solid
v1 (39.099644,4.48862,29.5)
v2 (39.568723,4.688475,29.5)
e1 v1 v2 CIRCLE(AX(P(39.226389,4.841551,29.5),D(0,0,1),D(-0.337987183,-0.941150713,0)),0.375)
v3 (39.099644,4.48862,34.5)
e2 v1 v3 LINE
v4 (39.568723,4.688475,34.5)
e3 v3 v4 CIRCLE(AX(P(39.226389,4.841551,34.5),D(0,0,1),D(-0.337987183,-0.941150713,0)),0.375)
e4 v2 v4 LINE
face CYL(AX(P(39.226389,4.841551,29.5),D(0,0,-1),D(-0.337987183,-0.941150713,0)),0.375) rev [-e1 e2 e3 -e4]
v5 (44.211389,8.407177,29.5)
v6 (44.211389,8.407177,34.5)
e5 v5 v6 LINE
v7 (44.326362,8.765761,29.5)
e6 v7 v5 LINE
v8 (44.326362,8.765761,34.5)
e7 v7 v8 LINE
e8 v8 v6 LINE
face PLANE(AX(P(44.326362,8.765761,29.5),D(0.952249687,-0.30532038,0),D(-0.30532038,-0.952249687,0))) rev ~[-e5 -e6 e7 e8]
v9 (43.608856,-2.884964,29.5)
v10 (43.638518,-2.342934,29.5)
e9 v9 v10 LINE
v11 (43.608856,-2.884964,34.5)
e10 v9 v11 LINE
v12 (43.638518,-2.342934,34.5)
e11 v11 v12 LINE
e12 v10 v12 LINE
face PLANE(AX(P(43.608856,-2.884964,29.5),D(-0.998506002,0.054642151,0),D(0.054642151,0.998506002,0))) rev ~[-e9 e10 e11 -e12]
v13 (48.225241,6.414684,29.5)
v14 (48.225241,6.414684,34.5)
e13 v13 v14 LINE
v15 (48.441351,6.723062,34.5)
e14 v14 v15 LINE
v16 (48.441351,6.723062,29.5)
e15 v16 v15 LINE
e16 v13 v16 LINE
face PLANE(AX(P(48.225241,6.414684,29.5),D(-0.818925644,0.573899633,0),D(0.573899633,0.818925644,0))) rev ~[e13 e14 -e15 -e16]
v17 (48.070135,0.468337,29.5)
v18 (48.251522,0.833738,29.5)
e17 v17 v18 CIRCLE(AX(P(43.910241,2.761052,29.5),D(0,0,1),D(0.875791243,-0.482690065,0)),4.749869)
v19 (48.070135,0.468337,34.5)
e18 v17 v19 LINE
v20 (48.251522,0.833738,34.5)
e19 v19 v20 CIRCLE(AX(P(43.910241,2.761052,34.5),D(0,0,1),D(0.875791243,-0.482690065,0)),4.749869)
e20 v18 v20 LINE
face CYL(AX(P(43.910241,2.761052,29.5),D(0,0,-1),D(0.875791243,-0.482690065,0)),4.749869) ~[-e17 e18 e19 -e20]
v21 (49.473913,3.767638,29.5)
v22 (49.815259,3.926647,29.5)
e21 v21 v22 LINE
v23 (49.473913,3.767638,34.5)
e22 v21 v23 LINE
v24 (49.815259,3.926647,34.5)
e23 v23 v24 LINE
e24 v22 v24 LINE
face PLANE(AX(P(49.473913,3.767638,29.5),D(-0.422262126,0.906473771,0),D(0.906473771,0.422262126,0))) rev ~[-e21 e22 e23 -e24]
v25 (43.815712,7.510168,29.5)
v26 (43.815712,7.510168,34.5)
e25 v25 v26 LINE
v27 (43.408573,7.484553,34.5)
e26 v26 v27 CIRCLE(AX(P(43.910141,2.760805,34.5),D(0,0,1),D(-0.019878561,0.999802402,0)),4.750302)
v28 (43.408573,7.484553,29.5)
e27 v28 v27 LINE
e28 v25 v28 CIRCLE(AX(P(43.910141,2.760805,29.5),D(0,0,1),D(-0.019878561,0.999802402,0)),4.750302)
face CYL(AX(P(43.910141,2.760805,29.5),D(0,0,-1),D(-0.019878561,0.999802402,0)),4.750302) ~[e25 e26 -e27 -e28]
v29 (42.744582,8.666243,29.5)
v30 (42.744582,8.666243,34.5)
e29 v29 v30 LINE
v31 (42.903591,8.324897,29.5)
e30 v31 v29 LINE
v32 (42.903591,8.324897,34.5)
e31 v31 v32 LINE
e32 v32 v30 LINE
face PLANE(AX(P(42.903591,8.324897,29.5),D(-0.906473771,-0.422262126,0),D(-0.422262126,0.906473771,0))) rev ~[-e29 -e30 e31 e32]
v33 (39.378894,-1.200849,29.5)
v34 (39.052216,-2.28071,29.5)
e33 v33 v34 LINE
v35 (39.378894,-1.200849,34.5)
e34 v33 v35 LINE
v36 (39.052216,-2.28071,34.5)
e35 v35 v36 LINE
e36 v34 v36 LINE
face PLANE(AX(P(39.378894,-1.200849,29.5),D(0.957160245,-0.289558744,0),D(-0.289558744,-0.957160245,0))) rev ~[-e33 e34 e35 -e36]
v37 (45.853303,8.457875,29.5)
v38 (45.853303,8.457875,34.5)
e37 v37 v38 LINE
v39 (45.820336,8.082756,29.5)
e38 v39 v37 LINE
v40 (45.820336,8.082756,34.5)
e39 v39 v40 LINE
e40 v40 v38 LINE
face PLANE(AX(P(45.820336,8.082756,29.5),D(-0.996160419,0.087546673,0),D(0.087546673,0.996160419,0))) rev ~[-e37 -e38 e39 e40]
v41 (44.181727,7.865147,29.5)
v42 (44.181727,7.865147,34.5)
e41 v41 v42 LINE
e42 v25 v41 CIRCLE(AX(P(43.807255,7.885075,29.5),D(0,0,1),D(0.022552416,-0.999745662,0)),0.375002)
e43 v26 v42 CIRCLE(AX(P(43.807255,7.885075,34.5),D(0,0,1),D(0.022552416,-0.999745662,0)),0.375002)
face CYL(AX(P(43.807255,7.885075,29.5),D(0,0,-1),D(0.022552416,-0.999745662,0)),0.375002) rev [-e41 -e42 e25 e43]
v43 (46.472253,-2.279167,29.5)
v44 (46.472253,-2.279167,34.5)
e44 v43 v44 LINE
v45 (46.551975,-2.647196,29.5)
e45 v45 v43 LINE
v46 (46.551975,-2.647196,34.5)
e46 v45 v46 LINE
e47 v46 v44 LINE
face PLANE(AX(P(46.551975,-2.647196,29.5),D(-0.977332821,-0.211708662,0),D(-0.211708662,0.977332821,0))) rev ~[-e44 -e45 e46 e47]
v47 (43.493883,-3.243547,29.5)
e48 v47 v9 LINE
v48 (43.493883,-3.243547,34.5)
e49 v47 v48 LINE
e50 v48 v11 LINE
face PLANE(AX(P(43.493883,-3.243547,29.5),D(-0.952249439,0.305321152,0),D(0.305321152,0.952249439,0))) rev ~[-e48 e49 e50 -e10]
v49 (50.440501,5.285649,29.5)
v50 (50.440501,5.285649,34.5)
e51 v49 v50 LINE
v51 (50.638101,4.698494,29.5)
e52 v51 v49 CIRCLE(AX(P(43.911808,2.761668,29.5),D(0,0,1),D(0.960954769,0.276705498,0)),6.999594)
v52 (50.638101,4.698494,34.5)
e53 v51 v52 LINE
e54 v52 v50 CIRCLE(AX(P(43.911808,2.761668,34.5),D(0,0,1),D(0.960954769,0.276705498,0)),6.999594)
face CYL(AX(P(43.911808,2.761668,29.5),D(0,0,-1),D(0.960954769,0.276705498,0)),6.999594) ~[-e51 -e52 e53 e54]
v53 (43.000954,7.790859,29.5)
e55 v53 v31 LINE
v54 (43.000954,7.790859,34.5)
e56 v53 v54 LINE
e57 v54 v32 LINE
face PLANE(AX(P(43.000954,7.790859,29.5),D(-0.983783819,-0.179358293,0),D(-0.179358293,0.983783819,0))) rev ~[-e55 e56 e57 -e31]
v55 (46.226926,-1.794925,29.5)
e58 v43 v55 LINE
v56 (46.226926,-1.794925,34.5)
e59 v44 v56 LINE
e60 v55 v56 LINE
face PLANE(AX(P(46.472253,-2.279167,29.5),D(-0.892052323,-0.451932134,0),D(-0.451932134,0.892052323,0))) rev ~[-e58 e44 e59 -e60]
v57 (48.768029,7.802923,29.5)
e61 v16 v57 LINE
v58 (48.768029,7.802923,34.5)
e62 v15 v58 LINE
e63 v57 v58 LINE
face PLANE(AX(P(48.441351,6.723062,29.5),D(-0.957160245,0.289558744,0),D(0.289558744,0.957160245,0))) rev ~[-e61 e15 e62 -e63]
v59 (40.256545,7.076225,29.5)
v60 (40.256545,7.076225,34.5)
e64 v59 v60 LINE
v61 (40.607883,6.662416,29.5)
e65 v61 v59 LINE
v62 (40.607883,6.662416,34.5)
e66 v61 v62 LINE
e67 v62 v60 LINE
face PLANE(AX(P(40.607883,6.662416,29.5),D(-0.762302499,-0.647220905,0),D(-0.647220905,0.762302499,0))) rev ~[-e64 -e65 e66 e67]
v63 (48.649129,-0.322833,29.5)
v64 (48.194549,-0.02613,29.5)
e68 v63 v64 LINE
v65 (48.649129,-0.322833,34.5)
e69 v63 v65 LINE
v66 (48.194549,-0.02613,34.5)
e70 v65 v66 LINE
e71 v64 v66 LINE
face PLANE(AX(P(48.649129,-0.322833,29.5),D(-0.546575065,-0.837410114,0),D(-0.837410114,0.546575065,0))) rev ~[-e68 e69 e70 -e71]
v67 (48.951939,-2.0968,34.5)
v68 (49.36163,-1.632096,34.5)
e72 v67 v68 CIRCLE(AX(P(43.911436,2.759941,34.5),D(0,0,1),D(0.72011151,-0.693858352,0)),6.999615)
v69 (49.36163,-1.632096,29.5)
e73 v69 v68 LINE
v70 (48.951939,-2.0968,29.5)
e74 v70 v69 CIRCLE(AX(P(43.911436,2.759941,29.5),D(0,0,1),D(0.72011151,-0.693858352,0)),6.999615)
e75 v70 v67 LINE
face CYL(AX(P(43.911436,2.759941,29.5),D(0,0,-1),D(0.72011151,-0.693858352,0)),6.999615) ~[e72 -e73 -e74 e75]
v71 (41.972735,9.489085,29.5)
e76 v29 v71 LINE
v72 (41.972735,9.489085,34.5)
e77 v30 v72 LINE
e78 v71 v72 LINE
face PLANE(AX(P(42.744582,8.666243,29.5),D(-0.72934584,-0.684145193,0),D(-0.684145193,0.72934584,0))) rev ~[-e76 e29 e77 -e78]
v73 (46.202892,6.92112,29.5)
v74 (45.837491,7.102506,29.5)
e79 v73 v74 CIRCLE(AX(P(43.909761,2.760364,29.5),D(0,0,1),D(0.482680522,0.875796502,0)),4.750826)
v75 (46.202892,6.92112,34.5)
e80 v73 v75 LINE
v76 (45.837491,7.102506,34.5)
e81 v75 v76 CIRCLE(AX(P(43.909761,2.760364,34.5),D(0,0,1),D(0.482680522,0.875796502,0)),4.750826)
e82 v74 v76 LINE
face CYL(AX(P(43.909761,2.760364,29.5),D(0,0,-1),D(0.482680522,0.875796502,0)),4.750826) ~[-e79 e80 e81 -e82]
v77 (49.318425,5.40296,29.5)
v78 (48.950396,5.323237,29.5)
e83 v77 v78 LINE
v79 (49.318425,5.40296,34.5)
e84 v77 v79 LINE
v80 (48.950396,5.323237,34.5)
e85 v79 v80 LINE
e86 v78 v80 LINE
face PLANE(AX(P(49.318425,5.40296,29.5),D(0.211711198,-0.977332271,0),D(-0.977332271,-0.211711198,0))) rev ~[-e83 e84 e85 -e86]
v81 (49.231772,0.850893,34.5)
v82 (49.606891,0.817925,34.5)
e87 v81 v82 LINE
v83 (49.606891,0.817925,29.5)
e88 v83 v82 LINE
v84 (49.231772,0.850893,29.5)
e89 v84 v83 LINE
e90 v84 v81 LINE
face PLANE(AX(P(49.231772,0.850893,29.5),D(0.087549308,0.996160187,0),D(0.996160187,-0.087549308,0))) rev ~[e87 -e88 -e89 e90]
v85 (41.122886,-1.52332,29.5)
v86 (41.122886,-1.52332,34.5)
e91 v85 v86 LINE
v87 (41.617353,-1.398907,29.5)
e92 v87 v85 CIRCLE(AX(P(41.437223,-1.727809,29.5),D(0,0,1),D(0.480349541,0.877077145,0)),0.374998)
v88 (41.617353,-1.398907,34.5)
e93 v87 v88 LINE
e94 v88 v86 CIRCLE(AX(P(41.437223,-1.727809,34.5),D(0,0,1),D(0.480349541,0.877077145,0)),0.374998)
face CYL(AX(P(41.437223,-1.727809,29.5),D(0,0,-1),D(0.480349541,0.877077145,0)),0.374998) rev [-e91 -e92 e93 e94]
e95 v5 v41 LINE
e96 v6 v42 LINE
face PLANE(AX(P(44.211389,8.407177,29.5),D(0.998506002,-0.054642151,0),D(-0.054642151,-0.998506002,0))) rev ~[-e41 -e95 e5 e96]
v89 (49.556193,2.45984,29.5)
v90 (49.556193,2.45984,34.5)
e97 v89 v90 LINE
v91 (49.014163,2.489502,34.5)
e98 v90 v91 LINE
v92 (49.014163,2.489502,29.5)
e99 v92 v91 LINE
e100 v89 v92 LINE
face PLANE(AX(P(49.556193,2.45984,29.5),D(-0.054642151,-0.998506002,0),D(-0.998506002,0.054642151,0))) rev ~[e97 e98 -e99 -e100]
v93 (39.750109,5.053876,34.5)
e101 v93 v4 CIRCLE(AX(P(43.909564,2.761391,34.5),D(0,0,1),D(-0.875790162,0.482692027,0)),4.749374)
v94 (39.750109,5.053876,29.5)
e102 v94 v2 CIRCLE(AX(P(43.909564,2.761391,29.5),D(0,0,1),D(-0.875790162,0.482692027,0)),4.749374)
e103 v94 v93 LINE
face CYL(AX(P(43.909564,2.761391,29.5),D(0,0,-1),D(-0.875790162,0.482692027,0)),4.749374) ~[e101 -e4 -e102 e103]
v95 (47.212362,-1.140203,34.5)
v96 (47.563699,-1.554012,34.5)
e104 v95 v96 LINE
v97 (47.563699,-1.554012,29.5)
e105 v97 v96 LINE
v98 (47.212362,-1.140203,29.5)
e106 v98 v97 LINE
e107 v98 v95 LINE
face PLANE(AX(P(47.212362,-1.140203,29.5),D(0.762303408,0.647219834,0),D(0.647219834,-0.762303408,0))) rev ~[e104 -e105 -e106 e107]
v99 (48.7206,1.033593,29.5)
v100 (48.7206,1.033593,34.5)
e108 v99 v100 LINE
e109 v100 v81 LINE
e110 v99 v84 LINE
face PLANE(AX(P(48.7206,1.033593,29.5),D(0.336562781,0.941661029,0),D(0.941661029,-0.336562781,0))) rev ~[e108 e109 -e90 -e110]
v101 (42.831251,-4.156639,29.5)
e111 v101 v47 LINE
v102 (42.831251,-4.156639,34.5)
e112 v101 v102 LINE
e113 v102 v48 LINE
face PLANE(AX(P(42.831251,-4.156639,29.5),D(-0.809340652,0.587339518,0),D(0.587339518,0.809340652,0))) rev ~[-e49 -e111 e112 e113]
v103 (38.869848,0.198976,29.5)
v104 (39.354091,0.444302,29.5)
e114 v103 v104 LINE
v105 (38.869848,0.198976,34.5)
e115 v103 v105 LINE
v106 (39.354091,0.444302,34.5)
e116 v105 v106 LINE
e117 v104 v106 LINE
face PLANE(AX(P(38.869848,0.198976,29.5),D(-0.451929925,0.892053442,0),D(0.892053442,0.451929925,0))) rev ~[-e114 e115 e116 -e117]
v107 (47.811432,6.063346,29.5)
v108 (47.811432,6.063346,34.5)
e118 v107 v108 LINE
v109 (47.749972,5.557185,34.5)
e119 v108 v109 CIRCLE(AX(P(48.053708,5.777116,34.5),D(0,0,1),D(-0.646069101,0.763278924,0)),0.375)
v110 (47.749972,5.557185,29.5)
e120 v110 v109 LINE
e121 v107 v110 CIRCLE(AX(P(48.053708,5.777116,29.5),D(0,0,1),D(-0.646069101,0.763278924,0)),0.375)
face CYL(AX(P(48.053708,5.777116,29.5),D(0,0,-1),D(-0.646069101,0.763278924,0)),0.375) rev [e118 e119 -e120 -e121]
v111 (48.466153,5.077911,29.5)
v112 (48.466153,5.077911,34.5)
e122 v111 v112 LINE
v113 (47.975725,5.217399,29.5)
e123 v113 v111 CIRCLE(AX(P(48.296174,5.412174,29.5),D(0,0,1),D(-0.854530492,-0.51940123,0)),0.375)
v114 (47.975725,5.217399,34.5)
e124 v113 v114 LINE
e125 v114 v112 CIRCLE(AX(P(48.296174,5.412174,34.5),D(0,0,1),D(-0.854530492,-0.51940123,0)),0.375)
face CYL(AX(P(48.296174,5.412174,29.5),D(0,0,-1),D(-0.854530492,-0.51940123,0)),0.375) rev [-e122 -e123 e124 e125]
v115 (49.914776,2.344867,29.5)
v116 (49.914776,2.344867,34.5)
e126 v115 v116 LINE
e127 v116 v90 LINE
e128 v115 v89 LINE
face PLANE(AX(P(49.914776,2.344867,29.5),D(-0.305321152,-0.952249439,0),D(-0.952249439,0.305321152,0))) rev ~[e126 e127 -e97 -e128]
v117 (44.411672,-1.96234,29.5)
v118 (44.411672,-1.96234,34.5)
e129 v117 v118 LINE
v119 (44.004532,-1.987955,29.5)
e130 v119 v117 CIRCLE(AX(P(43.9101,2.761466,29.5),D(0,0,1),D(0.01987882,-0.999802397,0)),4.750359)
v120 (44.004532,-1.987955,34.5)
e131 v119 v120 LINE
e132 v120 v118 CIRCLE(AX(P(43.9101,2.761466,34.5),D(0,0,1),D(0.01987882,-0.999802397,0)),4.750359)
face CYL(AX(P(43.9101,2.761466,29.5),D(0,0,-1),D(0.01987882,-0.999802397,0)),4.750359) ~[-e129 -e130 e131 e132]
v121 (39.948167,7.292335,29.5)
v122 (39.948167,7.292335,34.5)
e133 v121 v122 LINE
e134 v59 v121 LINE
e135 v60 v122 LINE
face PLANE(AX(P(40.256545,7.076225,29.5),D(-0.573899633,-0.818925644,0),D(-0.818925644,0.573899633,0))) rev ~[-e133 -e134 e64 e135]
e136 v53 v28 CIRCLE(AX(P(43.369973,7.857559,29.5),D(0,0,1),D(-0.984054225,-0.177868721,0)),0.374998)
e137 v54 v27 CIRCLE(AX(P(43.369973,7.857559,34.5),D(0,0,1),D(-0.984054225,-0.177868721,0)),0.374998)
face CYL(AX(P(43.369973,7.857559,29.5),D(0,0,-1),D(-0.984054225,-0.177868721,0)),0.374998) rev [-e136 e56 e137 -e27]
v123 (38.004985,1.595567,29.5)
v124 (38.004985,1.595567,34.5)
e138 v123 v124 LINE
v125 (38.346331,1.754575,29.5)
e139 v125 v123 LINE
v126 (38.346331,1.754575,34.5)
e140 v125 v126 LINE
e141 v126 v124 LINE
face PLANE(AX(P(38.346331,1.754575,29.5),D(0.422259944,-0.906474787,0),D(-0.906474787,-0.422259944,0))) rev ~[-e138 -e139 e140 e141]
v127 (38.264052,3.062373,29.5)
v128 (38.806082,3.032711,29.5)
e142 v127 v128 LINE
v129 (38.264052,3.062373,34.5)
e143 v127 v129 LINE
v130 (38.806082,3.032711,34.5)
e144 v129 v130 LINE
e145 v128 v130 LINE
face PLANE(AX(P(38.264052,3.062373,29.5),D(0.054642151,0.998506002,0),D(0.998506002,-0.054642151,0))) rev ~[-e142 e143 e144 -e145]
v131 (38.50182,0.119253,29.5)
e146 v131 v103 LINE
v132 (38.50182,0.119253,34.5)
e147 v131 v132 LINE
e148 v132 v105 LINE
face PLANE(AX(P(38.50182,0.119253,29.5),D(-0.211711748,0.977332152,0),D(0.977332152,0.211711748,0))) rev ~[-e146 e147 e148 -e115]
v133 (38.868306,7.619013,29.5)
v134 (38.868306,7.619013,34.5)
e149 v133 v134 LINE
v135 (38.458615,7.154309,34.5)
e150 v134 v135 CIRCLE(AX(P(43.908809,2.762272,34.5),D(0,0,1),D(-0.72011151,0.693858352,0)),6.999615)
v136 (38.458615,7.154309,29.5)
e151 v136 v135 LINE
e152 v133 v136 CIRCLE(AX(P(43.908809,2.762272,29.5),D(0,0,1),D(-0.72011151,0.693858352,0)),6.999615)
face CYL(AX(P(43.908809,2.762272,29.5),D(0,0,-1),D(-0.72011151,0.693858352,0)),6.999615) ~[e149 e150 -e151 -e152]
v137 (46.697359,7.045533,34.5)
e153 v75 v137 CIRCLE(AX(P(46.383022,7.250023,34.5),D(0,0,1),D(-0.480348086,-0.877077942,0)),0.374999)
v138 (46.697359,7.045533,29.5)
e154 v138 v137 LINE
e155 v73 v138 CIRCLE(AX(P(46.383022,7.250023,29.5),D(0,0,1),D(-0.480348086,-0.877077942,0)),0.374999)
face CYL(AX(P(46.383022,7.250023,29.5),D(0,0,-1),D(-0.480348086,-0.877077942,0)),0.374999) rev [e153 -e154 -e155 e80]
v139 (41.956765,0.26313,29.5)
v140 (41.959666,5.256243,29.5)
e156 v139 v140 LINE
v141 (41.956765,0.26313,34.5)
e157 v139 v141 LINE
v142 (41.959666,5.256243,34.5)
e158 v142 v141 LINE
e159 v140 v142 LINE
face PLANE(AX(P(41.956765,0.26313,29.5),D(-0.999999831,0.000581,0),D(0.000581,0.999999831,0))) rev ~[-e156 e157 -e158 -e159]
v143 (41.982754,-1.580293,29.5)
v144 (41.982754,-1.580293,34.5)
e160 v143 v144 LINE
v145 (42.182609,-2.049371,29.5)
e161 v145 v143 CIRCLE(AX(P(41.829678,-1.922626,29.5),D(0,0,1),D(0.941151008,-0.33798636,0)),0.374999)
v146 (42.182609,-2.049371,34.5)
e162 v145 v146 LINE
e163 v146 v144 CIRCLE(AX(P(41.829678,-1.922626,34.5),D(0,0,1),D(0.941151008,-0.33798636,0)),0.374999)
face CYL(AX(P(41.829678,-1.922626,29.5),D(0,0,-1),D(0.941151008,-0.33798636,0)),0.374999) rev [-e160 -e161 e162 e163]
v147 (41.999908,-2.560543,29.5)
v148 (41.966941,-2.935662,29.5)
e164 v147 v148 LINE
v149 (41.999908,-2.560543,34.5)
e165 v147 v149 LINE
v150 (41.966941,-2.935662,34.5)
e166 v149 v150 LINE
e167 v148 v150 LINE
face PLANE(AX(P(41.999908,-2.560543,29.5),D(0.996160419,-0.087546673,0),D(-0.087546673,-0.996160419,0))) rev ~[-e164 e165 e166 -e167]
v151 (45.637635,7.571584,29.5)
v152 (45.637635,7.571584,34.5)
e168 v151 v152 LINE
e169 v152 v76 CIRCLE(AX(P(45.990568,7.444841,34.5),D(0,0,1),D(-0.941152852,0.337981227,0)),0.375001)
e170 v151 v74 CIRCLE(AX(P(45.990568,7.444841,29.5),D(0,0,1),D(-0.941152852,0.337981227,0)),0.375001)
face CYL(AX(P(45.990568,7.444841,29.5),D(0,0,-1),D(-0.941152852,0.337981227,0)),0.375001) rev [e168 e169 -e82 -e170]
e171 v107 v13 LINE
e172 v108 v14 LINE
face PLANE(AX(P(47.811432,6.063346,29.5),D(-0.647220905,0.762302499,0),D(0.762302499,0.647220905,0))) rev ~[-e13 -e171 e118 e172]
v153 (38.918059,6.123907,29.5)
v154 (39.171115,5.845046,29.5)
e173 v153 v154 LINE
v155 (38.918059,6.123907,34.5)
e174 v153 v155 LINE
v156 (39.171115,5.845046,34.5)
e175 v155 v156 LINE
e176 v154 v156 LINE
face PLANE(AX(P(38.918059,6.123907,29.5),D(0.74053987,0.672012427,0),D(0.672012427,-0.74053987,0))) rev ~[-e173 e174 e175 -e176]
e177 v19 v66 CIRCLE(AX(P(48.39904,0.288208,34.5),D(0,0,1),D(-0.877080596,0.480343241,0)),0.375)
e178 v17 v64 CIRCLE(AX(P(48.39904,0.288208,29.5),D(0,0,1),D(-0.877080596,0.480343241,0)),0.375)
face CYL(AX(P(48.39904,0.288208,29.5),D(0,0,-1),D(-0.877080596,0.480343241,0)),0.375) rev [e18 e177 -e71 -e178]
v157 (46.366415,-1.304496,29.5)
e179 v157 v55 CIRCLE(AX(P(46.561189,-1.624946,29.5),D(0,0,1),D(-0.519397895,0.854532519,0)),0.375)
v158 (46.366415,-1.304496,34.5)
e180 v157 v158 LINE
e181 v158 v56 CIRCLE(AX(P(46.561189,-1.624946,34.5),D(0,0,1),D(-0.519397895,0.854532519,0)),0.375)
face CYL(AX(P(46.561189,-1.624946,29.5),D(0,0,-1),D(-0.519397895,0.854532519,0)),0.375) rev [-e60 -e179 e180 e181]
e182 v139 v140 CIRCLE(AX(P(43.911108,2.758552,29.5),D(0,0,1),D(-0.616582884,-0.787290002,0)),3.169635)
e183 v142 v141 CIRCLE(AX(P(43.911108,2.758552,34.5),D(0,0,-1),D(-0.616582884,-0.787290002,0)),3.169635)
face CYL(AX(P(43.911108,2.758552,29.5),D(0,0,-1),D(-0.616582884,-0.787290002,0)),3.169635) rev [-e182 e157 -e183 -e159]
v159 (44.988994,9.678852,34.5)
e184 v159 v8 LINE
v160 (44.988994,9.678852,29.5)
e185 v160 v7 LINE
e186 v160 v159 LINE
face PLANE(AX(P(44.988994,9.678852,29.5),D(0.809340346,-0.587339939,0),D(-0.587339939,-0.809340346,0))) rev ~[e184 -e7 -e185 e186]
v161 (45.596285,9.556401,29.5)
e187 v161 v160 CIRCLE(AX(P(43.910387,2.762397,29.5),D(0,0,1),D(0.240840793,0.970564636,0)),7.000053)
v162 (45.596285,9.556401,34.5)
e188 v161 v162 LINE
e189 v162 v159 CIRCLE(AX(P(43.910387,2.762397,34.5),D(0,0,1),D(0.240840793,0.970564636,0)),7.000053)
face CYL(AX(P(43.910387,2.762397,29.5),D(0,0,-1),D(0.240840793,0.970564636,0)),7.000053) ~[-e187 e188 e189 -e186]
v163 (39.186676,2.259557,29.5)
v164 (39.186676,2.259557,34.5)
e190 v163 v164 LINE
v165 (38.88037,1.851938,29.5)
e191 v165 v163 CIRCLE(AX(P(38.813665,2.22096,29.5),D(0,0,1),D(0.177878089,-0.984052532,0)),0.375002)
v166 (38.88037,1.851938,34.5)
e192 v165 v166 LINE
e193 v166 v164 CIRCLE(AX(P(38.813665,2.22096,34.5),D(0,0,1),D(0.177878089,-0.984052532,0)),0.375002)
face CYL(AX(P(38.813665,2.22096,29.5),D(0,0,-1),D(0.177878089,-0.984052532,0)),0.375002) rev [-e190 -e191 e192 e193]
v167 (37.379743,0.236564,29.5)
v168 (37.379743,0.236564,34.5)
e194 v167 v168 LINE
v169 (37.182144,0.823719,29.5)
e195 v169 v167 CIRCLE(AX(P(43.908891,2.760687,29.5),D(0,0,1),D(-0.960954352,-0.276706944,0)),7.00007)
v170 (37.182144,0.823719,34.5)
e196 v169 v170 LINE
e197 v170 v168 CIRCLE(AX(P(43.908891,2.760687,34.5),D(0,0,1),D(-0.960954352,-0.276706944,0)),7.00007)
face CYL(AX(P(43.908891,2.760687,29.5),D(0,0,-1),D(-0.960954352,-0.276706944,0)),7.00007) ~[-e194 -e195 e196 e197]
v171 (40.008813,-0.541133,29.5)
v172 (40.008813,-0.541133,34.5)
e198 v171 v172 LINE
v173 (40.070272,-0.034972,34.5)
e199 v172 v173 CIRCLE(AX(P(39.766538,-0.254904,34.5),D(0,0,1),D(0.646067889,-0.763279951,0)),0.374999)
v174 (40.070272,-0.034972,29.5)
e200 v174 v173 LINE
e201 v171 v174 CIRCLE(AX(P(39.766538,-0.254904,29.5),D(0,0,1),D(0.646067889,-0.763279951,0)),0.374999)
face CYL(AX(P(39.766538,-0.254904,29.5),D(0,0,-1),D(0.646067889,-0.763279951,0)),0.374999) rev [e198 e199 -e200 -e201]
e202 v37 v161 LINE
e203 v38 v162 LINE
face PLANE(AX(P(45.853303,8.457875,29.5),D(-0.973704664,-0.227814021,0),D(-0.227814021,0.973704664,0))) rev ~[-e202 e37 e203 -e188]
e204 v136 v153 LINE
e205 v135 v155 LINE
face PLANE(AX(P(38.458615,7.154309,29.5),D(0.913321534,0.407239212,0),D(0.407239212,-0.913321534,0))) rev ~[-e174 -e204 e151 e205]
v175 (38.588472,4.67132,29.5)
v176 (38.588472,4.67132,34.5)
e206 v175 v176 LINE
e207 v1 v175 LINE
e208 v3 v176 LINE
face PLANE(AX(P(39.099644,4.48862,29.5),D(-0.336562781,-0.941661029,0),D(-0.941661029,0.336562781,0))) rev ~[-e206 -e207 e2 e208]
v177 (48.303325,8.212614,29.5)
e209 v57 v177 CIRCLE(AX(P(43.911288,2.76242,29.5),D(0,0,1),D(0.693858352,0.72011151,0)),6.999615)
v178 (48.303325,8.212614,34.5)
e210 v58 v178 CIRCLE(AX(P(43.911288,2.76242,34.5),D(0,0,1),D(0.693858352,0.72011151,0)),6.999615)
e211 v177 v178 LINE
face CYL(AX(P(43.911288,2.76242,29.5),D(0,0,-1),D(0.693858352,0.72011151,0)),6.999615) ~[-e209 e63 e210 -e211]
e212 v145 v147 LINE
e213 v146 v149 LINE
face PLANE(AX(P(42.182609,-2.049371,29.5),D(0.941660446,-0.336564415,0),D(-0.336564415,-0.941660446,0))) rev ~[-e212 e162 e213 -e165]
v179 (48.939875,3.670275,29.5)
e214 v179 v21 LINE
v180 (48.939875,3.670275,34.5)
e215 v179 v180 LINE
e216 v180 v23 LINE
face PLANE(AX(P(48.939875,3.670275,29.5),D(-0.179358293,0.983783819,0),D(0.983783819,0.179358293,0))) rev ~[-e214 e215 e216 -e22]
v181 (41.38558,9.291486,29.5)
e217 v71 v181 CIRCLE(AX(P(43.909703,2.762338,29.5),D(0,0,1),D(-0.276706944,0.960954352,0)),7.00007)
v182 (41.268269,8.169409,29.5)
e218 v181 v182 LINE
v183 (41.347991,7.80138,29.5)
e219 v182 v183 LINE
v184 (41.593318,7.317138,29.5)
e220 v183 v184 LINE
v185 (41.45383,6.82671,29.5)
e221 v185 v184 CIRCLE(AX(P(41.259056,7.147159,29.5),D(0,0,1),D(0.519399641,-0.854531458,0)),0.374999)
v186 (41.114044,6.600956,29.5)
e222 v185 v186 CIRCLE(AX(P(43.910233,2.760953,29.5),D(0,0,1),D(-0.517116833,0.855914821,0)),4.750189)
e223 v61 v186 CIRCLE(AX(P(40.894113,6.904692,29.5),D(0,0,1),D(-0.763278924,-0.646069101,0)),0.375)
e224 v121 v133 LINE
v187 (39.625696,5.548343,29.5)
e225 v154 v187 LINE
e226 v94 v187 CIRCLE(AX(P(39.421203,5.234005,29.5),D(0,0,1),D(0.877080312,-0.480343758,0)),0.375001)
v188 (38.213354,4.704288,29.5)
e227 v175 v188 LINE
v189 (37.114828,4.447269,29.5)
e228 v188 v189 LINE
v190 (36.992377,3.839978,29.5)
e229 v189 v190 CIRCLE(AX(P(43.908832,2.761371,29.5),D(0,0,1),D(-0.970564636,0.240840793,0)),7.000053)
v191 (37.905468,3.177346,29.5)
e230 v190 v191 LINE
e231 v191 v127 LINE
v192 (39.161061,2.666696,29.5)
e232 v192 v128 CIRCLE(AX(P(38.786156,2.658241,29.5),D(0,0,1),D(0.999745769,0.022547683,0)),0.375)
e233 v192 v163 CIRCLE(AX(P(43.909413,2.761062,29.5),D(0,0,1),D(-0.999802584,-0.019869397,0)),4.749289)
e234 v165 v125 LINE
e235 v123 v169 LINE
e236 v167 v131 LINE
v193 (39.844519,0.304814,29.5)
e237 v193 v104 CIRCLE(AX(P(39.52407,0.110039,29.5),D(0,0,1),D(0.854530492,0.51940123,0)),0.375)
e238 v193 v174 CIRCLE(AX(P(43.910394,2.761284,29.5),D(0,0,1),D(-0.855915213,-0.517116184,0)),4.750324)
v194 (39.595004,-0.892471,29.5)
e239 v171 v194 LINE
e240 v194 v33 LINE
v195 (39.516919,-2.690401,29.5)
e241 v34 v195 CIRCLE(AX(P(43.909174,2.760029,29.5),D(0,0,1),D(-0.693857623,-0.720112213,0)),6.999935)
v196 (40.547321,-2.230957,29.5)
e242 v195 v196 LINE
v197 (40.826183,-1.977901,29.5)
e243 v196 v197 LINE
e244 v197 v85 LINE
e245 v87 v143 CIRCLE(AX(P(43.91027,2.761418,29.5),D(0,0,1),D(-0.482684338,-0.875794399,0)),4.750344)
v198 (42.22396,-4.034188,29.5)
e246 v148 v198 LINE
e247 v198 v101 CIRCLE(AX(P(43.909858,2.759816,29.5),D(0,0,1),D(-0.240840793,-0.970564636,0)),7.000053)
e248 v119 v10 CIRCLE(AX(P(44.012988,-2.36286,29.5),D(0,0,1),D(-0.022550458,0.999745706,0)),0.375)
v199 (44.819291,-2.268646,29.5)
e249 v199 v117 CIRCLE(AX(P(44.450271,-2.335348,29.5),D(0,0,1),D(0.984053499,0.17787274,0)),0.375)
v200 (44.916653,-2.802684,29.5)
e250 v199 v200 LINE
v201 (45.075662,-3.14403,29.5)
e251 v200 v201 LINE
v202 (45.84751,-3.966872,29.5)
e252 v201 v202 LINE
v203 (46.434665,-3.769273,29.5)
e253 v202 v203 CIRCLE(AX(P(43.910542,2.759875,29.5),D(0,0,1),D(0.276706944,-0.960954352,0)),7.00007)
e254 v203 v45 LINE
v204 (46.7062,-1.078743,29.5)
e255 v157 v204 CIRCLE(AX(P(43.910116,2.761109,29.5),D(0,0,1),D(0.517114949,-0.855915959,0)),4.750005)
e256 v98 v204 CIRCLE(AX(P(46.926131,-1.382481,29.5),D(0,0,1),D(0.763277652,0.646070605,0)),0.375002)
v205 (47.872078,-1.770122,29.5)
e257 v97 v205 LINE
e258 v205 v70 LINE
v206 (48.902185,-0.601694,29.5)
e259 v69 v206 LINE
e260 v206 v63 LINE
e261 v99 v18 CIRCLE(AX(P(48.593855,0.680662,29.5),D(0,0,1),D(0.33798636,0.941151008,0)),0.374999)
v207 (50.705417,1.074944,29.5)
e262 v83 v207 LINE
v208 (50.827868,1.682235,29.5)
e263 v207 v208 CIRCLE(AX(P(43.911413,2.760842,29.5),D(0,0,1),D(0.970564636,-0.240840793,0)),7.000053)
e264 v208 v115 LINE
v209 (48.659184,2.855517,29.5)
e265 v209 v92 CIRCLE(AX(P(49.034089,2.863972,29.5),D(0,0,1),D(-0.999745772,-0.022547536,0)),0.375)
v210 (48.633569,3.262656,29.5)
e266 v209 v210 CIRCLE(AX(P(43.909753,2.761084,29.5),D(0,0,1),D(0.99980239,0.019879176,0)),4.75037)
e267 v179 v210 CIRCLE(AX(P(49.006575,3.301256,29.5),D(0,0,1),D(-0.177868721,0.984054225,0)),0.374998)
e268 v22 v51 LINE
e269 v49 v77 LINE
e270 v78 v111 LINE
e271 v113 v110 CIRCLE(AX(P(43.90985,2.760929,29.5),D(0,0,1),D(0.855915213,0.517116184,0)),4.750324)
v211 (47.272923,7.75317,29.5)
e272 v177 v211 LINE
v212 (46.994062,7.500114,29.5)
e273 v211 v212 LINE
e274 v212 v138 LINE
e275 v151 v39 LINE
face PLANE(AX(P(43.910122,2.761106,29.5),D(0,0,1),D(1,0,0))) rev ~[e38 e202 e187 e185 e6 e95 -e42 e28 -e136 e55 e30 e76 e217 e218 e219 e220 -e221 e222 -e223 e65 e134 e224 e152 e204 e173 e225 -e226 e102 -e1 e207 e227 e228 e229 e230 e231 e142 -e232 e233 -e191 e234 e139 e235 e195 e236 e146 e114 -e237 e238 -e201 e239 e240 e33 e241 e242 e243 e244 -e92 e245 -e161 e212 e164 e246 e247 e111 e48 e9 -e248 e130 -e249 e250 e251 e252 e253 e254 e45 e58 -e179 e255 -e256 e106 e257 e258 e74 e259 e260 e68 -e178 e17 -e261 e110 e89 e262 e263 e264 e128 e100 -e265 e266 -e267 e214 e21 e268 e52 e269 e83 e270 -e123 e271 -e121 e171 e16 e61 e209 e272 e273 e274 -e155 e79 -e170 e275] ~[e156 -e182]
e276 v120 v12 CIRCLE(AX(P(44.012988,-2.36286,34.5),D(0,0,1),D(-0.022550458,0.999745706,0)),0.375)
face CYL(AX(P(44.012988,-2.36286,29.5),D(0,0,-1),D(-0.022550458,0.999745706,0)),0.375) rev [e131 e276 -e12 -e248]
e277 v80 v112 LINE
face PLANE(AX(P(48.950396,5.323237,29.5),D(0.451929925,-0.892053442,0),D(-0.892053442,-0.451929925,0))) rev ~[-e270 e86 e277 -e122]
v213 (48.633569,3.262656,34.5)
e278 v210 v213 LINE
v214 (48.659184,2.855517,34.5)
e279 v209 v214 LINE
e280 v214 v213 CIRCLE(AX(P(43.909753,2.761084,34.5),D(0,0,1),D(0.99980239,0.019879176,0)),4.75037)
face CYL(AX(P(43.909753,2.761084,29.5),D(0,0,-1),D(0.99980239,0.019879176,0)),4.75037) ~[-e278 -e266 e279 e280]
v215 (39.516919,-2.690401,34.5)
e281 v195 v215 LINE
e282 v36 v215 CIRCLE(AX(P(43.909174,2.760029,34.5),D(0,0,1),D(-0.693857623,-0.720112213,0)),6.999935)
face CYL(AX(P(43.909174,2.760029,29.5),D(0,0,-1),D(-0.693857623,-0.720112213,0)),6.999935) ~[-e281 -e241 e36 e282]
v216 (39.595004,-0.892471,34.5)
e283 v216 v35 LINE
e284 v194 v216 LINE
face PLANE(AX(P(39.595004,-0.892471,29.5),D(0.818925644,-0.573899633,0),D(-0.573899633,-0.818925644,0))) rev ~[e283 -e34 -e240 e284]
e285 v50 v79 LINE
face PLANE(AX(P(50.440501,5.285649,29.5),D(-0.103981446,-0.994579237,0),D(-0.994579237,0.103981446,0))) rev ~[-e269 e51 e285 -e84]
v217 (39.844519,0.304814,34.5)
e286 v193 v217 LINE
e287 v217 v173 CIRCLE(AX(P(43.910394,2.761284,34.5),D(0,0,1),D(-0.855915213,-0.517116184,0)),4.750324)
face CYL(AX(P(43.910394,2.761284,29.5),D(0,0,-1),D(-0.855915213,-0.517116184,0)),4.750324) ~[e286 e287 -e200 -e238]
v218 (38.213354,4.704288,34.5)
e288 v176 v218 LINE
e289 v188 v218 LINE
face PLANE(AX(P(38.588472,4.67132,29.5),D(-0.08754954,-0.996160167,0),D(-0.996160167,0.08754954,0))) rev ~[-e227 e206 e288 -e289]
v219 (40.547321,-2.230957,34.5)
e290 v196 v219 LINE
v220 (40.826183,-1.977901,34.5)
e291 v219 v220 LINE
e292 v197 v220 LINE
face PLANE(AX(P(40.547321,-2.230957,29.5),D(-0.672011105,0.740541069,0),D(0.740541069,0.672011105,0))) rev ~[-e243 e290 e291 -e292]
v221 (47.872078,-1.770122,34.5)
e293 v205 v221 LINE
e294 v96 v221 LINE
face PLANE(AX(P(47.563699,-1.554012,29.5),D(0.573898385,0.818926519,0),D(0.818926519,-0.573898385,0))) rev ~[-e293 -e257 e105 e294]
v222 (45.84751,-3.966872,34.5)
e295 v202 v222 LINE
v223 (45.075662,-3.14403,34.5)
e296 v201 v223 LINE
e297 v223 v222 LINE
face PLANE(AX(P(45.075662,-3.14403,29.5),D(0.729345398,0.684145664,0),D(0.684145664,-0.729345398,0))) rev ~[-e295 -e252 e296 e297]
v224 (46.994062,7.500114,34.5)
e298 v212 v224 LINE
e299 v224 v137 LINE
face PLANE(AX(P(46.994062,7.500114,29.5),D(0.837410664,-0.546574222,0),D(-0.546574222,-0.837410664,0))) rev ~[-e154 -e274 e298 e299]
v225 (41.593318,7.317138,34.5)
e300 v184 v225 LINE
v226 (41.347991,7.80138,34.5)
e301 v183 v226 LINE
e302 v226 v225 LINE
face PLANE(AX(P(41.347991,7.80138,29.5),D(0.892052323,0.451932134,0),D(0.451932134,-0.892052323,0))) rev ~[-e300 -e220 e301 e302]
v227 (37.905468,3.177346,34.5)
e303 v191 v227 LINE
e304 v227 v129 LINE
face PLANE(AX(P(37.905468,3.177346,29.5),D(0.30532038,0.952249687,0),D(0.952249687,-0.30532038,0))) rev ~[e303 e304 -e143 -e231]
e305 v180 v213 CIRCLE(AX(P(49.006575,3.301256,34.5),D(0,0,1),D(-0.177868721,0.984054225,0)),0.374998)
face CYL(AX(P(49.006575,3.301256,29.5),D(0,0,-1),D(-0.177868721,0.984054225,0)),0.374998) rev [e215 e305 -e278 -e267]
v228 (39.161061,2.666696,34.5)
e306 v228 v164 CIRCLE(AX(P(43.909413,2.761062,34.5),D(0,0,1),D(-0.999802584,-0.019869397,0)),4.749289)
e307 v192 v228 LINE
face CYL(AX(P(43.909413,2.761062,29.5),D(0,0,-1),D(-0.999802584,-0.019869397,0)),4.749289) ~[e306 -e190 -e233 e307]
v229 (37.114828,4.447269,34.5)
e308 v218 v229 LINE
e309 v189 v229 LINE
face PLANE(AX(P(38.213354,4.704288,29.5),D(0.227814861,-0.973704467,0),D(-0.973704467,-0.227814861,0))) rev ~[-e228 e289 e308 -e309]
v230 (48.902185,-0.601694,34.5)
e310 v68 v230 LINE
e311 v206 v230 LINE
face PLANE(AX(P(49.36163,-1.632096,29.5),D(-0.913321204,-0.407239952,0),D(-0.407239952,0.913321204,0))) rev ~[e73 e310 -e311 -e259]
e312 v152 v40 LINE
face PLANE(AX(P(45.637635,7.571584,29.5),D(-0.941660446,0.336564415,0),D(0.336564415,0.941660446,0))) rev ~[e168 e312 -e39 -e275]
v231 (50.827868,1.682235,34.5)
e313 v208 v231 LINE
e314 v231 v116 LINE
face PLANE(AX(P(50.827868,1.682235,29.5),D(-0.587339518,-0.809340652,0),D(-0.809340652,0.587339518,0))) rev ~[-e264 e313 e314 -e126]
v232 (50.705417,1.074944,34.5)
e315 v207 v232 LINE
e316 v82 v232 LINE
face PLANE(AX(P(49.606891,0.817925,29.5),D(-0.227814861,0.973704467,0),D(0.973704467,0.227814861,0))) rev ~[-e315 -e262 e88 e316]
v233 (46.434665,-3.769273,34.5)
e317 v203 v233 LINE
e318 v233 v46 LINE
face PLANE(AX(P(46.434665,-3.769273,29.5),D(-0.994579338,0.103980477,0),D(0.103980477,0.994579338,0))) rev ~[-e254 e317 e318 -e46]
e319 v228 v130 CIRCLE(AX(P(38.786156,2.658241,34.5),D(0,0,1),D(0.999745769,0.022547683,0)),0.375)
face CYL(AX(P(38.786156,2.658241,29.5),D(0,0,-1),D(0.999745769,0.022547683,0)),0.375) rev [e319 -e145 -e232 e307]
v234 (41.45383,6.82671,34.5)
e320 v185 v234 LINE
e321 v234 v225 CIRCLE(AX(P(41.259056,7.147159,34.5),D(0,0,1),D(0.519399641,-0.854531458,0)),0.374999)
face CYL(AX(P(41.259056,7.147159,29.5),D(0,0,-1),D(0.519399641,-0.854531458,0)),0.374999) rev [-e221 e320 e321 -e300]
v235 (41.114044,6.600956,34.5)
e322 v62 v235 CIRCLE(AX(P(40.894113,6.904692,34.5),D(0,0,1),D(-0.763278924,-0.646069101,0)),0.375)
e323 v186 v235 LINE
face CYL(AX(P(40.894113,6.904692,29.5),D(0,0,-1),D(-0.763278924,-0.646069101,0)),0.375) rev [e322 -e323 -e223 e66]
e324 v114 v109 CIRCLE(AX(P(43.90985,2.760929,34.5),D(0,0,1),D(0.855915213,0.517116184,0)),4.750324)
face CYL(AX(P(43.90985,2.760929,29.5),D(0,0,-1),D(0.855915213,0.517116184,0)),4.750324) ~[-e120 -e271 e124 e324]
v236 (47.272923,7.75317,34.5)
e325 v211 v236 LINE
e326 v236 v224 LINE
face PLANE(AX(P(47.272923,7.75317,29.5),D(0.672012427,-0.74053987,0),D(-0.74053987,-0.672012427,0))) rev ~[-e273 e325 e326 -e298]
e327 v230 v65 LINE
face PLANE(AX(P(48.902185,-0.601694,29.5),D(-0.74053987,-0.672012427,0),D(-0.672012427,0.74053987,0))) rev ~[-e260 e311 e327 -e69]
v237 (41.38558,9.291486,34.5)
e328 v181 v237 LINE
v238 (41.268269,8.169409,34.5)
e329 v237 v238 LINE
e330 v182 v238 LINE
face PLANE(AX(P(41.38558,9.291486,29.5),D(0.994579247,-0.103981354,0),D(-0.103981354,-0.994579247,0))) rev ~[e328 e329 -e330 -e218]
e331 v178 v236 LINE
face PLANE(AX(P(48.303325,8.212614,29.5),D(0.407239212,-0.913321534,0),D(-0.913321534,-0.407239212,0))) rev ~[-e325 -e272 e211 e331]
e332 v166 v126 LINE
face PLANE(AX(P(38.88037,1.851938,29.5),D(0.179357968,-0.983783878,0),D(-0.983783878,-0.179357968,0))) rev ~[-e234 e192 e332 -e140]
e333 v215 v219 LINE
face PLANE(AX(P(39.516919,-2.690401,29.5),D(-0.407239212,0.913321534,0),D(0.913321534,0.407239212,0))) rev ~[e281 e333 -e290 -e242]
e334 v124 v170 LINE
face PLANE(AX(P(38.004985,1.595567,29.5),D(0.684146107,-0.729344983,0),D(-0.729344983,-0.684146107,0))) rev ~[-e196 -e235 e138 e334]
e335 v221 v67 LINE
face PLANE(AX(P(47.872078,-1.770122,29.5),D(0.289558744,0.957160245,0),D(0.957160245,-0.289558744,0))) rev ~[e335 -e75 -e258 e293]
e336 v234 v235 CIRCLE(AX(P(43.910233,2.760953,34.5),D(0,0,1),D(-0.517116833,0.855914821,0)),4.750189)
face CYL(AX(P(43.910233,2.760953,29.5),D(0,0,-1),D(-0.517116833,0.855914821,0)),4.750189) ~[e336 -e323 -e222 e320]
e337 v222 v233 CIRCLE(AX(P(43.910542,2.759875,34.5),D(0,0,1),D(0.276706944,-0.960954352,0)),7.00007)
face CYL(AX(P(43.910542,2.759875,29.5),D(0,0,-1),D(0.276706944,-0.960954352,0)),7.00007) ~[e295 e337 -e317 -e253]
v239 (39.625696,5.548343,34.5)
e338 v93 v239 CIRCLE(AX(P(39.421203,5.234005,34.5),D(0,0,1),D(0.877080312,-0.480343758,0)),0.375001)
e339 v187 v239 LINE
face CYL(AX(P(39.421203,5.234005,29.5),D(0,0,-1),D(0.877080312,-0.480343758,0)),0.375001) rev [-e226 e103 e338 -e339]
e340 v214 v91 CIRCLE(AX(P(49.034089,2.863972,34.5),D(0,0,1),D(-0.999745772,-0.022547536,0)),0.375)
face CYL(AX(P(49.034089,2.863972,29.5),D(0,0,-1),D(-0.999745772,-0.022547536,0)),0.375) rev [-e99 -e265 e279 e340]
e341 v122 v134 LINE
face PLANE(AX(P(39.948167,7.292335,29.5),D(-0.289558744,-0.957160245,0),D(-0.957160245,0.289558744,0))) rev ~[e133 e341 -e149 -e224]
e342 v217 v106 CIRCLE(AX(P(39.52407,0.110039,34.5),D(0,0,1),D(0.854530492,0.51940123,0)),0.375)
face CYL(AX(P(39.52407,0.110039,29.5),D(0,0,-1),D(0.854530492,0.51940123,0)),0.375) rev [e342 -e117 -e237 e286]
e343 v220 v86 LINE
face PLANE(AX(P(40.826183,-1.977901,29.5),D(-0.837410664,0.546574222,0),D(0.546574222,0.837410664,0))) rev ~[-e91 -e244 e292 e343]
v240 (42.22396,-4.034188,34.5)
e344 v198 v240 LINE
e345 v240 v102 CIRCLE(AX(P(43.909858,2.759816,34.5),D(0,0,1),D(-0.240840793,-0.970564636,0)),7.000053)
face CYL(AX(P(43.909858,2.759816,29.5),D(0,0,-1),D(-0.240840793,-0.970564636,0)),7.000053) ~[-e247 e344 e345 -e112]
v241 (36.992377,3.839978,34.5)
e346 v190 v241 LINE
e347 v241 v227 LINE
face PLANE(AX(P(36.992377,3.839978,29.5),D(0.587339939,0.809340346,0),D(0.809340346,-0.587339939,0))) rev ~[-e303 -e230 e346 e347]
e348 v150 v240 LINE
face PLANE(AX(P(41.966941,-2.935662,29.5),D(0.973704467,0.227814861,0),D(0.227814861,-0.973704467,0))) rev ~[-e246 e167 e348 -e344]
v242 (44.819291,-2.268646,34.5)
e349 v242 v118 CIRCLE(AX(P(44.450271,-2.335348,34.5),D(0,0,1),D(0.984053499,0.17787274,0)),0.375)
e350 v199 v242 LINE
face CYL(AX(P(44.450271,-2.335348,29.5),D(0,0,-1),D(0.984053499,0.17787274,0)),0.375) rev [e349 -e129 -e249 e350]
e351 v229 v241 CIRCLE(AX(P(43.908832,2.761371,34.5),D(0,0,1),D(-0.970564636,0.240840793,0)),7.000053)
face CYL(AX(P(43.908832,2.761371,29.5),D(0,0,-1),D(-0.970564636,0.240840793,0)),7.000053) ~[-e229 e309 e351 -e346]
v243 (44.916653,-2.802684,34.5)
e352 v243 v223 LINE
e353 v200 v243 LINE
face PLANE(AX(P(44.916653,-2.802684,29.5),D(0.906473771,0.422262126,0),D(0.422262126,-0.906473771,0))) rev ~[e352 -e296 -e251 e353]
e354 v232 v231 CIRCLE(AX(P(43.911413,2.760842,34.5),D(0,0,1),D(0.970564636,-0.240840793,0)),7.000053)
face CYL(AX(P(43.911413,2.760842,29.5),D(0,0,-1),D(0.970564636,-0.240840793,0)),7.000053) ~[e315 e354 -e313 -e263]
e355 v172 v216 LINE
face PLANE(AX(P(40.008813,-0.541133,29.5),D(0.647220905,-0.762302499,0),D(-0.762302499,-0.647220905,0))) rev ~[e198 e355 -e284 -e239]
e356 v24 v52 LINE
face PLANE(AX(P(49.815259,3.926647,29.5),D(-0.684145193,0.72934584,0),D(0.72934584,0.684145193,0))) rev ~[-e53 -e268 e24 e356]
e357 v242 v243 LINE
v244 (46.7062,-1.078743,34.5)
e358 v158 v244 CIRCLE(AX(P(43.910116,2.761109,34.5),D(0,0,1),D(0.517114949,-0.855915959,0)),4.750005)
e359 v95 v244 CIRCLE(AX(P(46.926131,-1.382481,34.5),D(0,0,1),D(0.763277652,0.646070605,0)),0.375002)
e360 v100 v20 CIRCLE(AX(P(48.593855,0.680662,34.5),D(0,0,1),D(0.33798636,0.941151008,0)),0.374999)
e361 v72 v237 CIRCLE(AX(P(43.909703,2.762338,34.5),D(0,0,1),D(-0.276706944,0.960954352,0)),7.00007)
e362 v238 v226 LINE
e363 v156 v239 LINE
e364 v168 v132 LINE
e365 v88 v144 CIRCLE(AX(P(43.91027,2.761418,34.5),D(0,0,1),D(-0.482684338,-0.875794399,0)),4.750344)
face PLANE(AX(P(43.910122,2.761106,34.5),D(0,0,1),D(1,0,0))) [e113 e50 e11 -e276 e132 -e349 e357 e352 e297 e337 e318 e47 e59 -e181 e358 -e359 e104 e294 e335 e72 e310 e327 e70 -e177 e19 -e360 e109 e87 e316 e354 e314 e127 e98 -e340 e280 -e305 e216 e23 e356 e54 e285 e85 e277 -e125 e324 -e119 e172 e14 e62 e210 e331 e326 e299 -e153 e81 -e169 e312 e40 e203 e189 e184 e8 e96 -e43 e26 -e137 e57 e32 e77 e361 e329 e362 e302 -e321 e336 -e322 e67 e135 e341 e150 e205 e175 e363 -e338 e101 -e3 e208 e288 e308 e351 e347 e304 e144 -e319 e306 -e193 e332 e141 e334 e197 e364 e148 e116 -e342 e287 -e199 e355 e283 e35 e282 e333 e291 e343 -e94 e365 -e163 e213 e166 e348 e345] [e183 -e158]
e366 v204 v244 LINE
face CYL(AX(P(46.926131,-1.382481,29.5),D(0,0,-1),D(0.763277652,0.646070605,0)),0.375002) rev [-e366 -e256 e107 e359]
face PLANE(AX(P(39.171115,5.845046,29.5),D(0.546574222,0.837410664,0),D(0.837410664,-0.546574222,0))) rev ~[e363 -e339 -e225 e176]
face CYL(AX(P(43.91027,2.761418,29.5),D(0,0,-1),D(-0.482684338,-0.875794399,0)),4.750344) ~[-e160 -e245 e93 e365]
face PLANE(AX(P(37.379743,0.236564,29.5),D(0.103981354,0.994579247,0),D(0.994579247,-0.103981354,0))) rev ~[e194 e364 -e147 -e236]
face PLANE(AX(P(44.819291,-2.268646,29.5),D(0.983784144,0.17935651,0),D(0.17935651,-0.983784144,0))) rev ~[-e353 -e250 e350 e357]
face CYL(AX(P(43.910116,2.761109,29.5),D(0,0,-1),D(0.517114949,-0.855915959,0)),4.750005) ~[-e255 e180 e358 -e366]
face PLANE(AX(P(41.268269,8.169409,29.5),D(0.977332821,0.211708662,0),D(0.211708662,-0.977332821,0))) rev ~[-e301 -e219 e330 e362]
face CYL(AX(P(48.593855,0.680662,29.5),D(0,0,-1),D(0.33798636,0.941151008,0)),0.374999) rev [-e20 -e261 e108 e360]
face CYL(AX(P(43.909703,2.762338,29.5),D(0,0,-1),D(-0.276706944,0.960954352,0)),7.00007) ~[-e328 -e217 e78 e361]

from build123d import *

# Parameters (mm, degrees)
PAD015_DEPTH = 12
PAD014_DEPTH = 5


with BuildPart() as body013:
    # Sketch146 → Pad015 (new body)
    with BuildSketch(Plane.XY):
        with BuildLine():
            Line((41.956765, 0.26313), (41.959666, 5.256243))
            ThreePointArc((41.956765, 0.26313), (47.080742, 2.75671), (41.959666, 5.256243))
        make_face()
    extrude(amount=PAD015_DEPTH)


with BuildPart() as body013_1:
    # Body013 placement: moved
    add(body013.part.moved(Location((0, 0, 4))))


with BuildPart() as old_pinion:
    # Sketch145 → Pad014 (new body)
    with BuildSketch(Plane.XY):
        with BuildLine():
            Line((48.939875, 3.670275), (49.473913, 3.767638))
            Line((49.473913, 3.767638), (49.815259, 3.926647))
            Line((49.815259, 3.926647), (50.638101, 4.698494))
            ThreePointArc((50.638101, 4.698494), (50.5458, 4.994259), (50.440501, 5.285649))
            Line((50.440501, 5.285649), (49.318425, 5.40296))
            Line((49.318425, 5.40296), (48.950396, 5.323237))
            Line((48.950396, 5.323237), (48.466153, 5.077911))
            ThreePointArc((47.975725, 5.217399), (48.193585, 5.05148), (48.466153, 5.077911))
            ThreePointArc((47.975725, 5.217399), (47.866498, 5.389716), (47.749972, 5.557185))
            ThreePointArc((47.811432, 6.063346), (47.681442, 5.822318), (47.749972, 5.557185))
            Line((47.811432, 6.063346), (48.225241, 6.414684))
            Line((48.225241, 6.414684), (48.441351, 6.723062))
            Line((48.441351, 6.723062), (48.768029, 7.802923))
            ThreePointArc((48.768029, 7.802923), (48.540212, 8.012912), (48.303325, 8.212614))
            Line((48.303325, 8.212614), (47.272923, 7.75317))
            Line((47.272923, 7.75317), (46.994062, 7.500114))
            Line((46.994062, 7.500114), (46.697359, 7.045533))
            ThreePointArc((46.202892, 6.92112), (46.474523, 6.886359), (46.697359, 7.045533))
            ThreePointArc((46.202892, 6.92112), (46.022139, 7.015737), (45.837491, 7.102506))
            ThreePointArc((45.637635, 7.571584), (45.645575, 7.297853), (45.837491, 7.102506))
            Line((45.637635, 7.571584), (45.820336, 8.082756))
            Line((45.820336, 8.082756), (45.853303, 8.457875))
            Line((45.853303, 8.457875), (45.596285, 9.556401))
            ThreePointArc((45.596285, 9.556401), (45.293995, 9.624348), (44.988994, 9.678852))
            Line((44.988994, 9.678852), (44.326362, 8.765761))
            Line((44.326362, 8.765761), (44.211389, 8.407177))
            Line((44.211389, 8.407177), (44.181727, 7.865147))
            ThreePointArc((43.815712, 7.510168), (44.068332, 7.615881), (44.181727, 7.865147))
            ThreePointArc((43.815712, 7.510168), (43.611867, 7.501733), (43.408573, 7.484553))
            ThreePointArc((43.000954, 7.790859), (43.144695, 7.55777), (43.408573, 7.484553))
            Line((43.000954, 7.790859), (42.903591, 8.324897))
            Line((42.903591, 8.324897), (42.744582, 8.666243))
            Line((42.744582, 8.666243), (41.972735, 9.489085))
            ThreePointArc((41.972735, 9.489085), (41.67697, 9.396784), (41.38558, 9.291486))
            Line((41.38558, 9.291486), (41.268269, 8.169409))
            Line((41.268269, 8.169409), (41.347991, 7.80138))
            Line((41.347991, 7.80138), (41.593318, 7.317138))
            ThreePointArc((41.45383, 6.82671), (41.619749, 7.044569), (41.593318, 7.317138))
            ThreePointArc((41.45383, 6.82671), (41.281512, 6.717482), (41.114044, 6.600956))
            ThreePointArc((40.607883, 6.662416), (40.848911, 6.532426), (41.114044, 6.600956))
            Line((40.607883, 6.662416), (40.256545, 7.076225))
            Line((40.256545, 7.076225), (39.948167, 7.292335))
            Line((39.948167, 7.292335), (38.868306, 7.619013))
            ThreePointArc((38.868306, 7.619013), (38.658317, 7.391196), (38.458615, 7.154309))
            Line((38.458615, 7.154309), (38.918059, 6.123907))
            Line((38.918059, 6.123907), (39.171115, 5.845046))
            Line((39.171115, 5.845046), (39.625696, 5.548343))
            ThreePointArc((39.750109, 5.053876), (39.784869, 5.325508), (39.625696, 5.548343))
            ThreePointArc((39.750109, 5.053876), (39.655491, 4.873124), (39.568723, 4.688475))
            ThreePointArc((39.099644, 4.48862), (39.373376, 4.496559), (39.568723, 4.688475))
            Line((39.099644, 4.48862), (38.588472, 4.67132))
            Line((38.588472, 4.67132), (38.213354, 4.704288))
            Line((38.213354, 4.704288), (37.114828, 4.447269))
            ThreePointArc((37.114828, 4.447269), (37.046881, 4.144979), (36.992377, 3.839978))
            Line((36.992377, 3.839978), (37.905468, 3.177346))
            Line((37.905468, 3.177346), (38.264052, 3.062373))
            Line((38.264052, 3.062373), (38.806082, 3.032711))
            ThreePointArc((39.161061, 2.666696), (39.055348, 2.919317), (38.806082, 3.032711))
            ThreePointArc((39.161061, 2.666696), (39.169495, 2.462852), (39.186676, 2.259557))
            ThreePointArc((38.88037, 1.851938), (39.113458, 1.99568), (39.186676, 2.259557))
            Line((38.88037, 1.851938), (38.346331, 1.754575))
            Line((38.346331, 1.754575), (38.004985, 1.595567))
            Line((38.004985, 1.595567), (37.182144, 0.823719))
            ThreePointArc((37.182144, 0.823719), (37.274445, 0.527954), (37.379743, 0.236564))
            Line((37.379743, 0.236564), (38.50182, 0.119253))
            Line((38.50182, 0.119253), (38.869848, 0.198976))
            Line((38.869848, 0.198976), (39.354091, 0.444302))
            ThreePointArc((39.844519, 0.304814), (39.626659, 0.470733), (39.354091, 0.444302))
            ThreePointArc((39.844519, 0.304814), (39.953746, 0.132497), (40.070272, -0.034972))
            ThreePointArc((40.008813, -0.541133), (40.138803, -0.300105), (40.070272, -0.034972))
            Line((40.008813, -0.541133), (39.595004, -0.892471))
            Line((39.595004, -0.892471), (39.378894, -1.200849))
            Line((39.378894, -1.200849), (39.052216, -2.28071))
            ThreePointArc((39.052216, -2.28071), (39.280033, -2.490699), (39.516919, -2.690401))
            Line((39.516919, -2.690401), (40.547321, -2.230957))
            Line((40.547321, -2.230957), (40.826183, -1.977901))
            Line((40.826183, -1.977901), (41.122886, -1.52332))
            ThreePointArc((41.617353, -1.398907), (41.345721, -1.364146), (41.122886, -1.52332))
            ThreePointArc((41.617353, -1.398907), (41.798105, -1.493524), (41.982754, -1.580293))
            ThreePointArc((42.182609, -2.049371), (42.17467, -1.77564), (41.982754, -1.580293))
            Line((42.182609, -2.049371), (41.999908, -2.560543))
            Line((41.999908, -2.560543), (41.966941, -2.935662))
            Line((41.966941, -2.935662), (42.22396, -4.034188))
            ThreePointArc((42.22396, -4.034188), (42.52625, -4.102135), (42.831251, -4.156639))
            Line((42.831251, -4.156639), (43.493883, -3.243547))
            Line((43.493883, -3.243547), (43.608856, -2.884964))
            Line((43.608856, -2.884964), (43.638518, -2.342934))
            ThreePointArc((44.004532, -1.987955), (43.751912, -2.093668), (43.638518, -2.342934))
            ThreePointArc((44.004532, -1.987955), (44.208377, -1.97952), (44.411672, -1.96234))
            ThreePointArc((44.819291, -2.268646), (44.675549, -2.035557), (44.411672, -1.96234))
            Line((44.819291, -2.268646), (44.916653, -2.802684))
            Line((44.916653, -2.802684), (45.075662, -3.14403))
            Line((45.075662, -3.14403), (45.84751, -3.966872))
            ThreePointArc((45.84751, -3.966872), (46.143275, -3.874571), (46.434665, -3.769273))
            Line((46.434665, -3.769273), (46.551975, -2.647196))
            Line((46.551975, -2.647196), (46.472253, -2.279167))
            Line((46.472253, -2.279167), (46.226926, -1.794925))
            ThreePointArc((46.366415, -1.304496), (46.200495, -1.522356), (46.226926, -1.794925))
            ThreePointArc((46.366415, -1.304496), (46.538732, -1.195269), (46.7062, -1.078743))
            ThreePointArc((47.212362, -1.140203), (46.971333, -1.010213), (46.7062, -1.078743))
            Line((47.212362, -1.140203), (47.563699, -1.554012))
            Line((47.563699, -1.554012), (47.872078, -1.770122))
            Line((47.872078, -1.770122), (48.951939, -2.0968))
            ThreePointArc((48.951939, -2.0968), (49.161928, -1.868983), (49.36163, -1.632096))
            Line((49.36163, -1.632096), (48.902185, -0.601694))
            Line((48.902185, -0.601694), (48.649129, -0.322833))
            Line((48.649129, -0.322833), (48.194549, -0.02613))
            ThreePointArc((48.070135, 0.468337), (48.035375, 0.196706), (48.194549, -0.02613))
            ThreePointArc((48.070135, 0.468337), (48.164753, 0.649089), (48.251522, 0.833738))
            ThreePointArc((48.7206, 1.033593), (48.446869, 1.025654), (48.251522, 0.833738))
            Line((48.7206, 1.033593), (49.231772, 0.850893))
            Line((49.231772, 0.850893), (49.606891, 0.817925))
            Line((49.606891, 0.817925), (50.705417, 1.074944))
            ThreePointArc((50.705417, 1.074944), (50.773364, 1.377234), (50.827868, 1.682235))
            Line((50.827868, 1.682235), (49.914776, 2.344867))
            Line((49.914776, 2.344867), (49.556193, 2.45984))
            Line((49.556193, 2.45984), (49.014163, 2.489502))
            ThreePointArc((48.659184, 2.855517), (48.764896, 2.602897), (49.014163, 2.489502))
            ThreePointArc((48.659184, 2.855517), (48.650749, 3.059361), (48.633569, 3.262656))
            ThreePointArc((48.939875, 3.670275), (48.706786, 3.526534), (48.633569, 3.262656))
        make_face()
    extrude(amount=PAD014_DEPTH)


with BuildPart() as old_pinion_1:
    # Body012 placement: moved
    add(old_pinion.part.moved(Location((0, 0, 4))))

    # Cut001: cut Body013
    add(body013_1.part, mode=Mode.SUBTRACT)


with BuildPart() as old_pinion_2:
    # Cut001 placement: moved
    add(old_pinion_1.part.moved(Location((0, 0, 25.5))))


solid = old_pinion_2.part
